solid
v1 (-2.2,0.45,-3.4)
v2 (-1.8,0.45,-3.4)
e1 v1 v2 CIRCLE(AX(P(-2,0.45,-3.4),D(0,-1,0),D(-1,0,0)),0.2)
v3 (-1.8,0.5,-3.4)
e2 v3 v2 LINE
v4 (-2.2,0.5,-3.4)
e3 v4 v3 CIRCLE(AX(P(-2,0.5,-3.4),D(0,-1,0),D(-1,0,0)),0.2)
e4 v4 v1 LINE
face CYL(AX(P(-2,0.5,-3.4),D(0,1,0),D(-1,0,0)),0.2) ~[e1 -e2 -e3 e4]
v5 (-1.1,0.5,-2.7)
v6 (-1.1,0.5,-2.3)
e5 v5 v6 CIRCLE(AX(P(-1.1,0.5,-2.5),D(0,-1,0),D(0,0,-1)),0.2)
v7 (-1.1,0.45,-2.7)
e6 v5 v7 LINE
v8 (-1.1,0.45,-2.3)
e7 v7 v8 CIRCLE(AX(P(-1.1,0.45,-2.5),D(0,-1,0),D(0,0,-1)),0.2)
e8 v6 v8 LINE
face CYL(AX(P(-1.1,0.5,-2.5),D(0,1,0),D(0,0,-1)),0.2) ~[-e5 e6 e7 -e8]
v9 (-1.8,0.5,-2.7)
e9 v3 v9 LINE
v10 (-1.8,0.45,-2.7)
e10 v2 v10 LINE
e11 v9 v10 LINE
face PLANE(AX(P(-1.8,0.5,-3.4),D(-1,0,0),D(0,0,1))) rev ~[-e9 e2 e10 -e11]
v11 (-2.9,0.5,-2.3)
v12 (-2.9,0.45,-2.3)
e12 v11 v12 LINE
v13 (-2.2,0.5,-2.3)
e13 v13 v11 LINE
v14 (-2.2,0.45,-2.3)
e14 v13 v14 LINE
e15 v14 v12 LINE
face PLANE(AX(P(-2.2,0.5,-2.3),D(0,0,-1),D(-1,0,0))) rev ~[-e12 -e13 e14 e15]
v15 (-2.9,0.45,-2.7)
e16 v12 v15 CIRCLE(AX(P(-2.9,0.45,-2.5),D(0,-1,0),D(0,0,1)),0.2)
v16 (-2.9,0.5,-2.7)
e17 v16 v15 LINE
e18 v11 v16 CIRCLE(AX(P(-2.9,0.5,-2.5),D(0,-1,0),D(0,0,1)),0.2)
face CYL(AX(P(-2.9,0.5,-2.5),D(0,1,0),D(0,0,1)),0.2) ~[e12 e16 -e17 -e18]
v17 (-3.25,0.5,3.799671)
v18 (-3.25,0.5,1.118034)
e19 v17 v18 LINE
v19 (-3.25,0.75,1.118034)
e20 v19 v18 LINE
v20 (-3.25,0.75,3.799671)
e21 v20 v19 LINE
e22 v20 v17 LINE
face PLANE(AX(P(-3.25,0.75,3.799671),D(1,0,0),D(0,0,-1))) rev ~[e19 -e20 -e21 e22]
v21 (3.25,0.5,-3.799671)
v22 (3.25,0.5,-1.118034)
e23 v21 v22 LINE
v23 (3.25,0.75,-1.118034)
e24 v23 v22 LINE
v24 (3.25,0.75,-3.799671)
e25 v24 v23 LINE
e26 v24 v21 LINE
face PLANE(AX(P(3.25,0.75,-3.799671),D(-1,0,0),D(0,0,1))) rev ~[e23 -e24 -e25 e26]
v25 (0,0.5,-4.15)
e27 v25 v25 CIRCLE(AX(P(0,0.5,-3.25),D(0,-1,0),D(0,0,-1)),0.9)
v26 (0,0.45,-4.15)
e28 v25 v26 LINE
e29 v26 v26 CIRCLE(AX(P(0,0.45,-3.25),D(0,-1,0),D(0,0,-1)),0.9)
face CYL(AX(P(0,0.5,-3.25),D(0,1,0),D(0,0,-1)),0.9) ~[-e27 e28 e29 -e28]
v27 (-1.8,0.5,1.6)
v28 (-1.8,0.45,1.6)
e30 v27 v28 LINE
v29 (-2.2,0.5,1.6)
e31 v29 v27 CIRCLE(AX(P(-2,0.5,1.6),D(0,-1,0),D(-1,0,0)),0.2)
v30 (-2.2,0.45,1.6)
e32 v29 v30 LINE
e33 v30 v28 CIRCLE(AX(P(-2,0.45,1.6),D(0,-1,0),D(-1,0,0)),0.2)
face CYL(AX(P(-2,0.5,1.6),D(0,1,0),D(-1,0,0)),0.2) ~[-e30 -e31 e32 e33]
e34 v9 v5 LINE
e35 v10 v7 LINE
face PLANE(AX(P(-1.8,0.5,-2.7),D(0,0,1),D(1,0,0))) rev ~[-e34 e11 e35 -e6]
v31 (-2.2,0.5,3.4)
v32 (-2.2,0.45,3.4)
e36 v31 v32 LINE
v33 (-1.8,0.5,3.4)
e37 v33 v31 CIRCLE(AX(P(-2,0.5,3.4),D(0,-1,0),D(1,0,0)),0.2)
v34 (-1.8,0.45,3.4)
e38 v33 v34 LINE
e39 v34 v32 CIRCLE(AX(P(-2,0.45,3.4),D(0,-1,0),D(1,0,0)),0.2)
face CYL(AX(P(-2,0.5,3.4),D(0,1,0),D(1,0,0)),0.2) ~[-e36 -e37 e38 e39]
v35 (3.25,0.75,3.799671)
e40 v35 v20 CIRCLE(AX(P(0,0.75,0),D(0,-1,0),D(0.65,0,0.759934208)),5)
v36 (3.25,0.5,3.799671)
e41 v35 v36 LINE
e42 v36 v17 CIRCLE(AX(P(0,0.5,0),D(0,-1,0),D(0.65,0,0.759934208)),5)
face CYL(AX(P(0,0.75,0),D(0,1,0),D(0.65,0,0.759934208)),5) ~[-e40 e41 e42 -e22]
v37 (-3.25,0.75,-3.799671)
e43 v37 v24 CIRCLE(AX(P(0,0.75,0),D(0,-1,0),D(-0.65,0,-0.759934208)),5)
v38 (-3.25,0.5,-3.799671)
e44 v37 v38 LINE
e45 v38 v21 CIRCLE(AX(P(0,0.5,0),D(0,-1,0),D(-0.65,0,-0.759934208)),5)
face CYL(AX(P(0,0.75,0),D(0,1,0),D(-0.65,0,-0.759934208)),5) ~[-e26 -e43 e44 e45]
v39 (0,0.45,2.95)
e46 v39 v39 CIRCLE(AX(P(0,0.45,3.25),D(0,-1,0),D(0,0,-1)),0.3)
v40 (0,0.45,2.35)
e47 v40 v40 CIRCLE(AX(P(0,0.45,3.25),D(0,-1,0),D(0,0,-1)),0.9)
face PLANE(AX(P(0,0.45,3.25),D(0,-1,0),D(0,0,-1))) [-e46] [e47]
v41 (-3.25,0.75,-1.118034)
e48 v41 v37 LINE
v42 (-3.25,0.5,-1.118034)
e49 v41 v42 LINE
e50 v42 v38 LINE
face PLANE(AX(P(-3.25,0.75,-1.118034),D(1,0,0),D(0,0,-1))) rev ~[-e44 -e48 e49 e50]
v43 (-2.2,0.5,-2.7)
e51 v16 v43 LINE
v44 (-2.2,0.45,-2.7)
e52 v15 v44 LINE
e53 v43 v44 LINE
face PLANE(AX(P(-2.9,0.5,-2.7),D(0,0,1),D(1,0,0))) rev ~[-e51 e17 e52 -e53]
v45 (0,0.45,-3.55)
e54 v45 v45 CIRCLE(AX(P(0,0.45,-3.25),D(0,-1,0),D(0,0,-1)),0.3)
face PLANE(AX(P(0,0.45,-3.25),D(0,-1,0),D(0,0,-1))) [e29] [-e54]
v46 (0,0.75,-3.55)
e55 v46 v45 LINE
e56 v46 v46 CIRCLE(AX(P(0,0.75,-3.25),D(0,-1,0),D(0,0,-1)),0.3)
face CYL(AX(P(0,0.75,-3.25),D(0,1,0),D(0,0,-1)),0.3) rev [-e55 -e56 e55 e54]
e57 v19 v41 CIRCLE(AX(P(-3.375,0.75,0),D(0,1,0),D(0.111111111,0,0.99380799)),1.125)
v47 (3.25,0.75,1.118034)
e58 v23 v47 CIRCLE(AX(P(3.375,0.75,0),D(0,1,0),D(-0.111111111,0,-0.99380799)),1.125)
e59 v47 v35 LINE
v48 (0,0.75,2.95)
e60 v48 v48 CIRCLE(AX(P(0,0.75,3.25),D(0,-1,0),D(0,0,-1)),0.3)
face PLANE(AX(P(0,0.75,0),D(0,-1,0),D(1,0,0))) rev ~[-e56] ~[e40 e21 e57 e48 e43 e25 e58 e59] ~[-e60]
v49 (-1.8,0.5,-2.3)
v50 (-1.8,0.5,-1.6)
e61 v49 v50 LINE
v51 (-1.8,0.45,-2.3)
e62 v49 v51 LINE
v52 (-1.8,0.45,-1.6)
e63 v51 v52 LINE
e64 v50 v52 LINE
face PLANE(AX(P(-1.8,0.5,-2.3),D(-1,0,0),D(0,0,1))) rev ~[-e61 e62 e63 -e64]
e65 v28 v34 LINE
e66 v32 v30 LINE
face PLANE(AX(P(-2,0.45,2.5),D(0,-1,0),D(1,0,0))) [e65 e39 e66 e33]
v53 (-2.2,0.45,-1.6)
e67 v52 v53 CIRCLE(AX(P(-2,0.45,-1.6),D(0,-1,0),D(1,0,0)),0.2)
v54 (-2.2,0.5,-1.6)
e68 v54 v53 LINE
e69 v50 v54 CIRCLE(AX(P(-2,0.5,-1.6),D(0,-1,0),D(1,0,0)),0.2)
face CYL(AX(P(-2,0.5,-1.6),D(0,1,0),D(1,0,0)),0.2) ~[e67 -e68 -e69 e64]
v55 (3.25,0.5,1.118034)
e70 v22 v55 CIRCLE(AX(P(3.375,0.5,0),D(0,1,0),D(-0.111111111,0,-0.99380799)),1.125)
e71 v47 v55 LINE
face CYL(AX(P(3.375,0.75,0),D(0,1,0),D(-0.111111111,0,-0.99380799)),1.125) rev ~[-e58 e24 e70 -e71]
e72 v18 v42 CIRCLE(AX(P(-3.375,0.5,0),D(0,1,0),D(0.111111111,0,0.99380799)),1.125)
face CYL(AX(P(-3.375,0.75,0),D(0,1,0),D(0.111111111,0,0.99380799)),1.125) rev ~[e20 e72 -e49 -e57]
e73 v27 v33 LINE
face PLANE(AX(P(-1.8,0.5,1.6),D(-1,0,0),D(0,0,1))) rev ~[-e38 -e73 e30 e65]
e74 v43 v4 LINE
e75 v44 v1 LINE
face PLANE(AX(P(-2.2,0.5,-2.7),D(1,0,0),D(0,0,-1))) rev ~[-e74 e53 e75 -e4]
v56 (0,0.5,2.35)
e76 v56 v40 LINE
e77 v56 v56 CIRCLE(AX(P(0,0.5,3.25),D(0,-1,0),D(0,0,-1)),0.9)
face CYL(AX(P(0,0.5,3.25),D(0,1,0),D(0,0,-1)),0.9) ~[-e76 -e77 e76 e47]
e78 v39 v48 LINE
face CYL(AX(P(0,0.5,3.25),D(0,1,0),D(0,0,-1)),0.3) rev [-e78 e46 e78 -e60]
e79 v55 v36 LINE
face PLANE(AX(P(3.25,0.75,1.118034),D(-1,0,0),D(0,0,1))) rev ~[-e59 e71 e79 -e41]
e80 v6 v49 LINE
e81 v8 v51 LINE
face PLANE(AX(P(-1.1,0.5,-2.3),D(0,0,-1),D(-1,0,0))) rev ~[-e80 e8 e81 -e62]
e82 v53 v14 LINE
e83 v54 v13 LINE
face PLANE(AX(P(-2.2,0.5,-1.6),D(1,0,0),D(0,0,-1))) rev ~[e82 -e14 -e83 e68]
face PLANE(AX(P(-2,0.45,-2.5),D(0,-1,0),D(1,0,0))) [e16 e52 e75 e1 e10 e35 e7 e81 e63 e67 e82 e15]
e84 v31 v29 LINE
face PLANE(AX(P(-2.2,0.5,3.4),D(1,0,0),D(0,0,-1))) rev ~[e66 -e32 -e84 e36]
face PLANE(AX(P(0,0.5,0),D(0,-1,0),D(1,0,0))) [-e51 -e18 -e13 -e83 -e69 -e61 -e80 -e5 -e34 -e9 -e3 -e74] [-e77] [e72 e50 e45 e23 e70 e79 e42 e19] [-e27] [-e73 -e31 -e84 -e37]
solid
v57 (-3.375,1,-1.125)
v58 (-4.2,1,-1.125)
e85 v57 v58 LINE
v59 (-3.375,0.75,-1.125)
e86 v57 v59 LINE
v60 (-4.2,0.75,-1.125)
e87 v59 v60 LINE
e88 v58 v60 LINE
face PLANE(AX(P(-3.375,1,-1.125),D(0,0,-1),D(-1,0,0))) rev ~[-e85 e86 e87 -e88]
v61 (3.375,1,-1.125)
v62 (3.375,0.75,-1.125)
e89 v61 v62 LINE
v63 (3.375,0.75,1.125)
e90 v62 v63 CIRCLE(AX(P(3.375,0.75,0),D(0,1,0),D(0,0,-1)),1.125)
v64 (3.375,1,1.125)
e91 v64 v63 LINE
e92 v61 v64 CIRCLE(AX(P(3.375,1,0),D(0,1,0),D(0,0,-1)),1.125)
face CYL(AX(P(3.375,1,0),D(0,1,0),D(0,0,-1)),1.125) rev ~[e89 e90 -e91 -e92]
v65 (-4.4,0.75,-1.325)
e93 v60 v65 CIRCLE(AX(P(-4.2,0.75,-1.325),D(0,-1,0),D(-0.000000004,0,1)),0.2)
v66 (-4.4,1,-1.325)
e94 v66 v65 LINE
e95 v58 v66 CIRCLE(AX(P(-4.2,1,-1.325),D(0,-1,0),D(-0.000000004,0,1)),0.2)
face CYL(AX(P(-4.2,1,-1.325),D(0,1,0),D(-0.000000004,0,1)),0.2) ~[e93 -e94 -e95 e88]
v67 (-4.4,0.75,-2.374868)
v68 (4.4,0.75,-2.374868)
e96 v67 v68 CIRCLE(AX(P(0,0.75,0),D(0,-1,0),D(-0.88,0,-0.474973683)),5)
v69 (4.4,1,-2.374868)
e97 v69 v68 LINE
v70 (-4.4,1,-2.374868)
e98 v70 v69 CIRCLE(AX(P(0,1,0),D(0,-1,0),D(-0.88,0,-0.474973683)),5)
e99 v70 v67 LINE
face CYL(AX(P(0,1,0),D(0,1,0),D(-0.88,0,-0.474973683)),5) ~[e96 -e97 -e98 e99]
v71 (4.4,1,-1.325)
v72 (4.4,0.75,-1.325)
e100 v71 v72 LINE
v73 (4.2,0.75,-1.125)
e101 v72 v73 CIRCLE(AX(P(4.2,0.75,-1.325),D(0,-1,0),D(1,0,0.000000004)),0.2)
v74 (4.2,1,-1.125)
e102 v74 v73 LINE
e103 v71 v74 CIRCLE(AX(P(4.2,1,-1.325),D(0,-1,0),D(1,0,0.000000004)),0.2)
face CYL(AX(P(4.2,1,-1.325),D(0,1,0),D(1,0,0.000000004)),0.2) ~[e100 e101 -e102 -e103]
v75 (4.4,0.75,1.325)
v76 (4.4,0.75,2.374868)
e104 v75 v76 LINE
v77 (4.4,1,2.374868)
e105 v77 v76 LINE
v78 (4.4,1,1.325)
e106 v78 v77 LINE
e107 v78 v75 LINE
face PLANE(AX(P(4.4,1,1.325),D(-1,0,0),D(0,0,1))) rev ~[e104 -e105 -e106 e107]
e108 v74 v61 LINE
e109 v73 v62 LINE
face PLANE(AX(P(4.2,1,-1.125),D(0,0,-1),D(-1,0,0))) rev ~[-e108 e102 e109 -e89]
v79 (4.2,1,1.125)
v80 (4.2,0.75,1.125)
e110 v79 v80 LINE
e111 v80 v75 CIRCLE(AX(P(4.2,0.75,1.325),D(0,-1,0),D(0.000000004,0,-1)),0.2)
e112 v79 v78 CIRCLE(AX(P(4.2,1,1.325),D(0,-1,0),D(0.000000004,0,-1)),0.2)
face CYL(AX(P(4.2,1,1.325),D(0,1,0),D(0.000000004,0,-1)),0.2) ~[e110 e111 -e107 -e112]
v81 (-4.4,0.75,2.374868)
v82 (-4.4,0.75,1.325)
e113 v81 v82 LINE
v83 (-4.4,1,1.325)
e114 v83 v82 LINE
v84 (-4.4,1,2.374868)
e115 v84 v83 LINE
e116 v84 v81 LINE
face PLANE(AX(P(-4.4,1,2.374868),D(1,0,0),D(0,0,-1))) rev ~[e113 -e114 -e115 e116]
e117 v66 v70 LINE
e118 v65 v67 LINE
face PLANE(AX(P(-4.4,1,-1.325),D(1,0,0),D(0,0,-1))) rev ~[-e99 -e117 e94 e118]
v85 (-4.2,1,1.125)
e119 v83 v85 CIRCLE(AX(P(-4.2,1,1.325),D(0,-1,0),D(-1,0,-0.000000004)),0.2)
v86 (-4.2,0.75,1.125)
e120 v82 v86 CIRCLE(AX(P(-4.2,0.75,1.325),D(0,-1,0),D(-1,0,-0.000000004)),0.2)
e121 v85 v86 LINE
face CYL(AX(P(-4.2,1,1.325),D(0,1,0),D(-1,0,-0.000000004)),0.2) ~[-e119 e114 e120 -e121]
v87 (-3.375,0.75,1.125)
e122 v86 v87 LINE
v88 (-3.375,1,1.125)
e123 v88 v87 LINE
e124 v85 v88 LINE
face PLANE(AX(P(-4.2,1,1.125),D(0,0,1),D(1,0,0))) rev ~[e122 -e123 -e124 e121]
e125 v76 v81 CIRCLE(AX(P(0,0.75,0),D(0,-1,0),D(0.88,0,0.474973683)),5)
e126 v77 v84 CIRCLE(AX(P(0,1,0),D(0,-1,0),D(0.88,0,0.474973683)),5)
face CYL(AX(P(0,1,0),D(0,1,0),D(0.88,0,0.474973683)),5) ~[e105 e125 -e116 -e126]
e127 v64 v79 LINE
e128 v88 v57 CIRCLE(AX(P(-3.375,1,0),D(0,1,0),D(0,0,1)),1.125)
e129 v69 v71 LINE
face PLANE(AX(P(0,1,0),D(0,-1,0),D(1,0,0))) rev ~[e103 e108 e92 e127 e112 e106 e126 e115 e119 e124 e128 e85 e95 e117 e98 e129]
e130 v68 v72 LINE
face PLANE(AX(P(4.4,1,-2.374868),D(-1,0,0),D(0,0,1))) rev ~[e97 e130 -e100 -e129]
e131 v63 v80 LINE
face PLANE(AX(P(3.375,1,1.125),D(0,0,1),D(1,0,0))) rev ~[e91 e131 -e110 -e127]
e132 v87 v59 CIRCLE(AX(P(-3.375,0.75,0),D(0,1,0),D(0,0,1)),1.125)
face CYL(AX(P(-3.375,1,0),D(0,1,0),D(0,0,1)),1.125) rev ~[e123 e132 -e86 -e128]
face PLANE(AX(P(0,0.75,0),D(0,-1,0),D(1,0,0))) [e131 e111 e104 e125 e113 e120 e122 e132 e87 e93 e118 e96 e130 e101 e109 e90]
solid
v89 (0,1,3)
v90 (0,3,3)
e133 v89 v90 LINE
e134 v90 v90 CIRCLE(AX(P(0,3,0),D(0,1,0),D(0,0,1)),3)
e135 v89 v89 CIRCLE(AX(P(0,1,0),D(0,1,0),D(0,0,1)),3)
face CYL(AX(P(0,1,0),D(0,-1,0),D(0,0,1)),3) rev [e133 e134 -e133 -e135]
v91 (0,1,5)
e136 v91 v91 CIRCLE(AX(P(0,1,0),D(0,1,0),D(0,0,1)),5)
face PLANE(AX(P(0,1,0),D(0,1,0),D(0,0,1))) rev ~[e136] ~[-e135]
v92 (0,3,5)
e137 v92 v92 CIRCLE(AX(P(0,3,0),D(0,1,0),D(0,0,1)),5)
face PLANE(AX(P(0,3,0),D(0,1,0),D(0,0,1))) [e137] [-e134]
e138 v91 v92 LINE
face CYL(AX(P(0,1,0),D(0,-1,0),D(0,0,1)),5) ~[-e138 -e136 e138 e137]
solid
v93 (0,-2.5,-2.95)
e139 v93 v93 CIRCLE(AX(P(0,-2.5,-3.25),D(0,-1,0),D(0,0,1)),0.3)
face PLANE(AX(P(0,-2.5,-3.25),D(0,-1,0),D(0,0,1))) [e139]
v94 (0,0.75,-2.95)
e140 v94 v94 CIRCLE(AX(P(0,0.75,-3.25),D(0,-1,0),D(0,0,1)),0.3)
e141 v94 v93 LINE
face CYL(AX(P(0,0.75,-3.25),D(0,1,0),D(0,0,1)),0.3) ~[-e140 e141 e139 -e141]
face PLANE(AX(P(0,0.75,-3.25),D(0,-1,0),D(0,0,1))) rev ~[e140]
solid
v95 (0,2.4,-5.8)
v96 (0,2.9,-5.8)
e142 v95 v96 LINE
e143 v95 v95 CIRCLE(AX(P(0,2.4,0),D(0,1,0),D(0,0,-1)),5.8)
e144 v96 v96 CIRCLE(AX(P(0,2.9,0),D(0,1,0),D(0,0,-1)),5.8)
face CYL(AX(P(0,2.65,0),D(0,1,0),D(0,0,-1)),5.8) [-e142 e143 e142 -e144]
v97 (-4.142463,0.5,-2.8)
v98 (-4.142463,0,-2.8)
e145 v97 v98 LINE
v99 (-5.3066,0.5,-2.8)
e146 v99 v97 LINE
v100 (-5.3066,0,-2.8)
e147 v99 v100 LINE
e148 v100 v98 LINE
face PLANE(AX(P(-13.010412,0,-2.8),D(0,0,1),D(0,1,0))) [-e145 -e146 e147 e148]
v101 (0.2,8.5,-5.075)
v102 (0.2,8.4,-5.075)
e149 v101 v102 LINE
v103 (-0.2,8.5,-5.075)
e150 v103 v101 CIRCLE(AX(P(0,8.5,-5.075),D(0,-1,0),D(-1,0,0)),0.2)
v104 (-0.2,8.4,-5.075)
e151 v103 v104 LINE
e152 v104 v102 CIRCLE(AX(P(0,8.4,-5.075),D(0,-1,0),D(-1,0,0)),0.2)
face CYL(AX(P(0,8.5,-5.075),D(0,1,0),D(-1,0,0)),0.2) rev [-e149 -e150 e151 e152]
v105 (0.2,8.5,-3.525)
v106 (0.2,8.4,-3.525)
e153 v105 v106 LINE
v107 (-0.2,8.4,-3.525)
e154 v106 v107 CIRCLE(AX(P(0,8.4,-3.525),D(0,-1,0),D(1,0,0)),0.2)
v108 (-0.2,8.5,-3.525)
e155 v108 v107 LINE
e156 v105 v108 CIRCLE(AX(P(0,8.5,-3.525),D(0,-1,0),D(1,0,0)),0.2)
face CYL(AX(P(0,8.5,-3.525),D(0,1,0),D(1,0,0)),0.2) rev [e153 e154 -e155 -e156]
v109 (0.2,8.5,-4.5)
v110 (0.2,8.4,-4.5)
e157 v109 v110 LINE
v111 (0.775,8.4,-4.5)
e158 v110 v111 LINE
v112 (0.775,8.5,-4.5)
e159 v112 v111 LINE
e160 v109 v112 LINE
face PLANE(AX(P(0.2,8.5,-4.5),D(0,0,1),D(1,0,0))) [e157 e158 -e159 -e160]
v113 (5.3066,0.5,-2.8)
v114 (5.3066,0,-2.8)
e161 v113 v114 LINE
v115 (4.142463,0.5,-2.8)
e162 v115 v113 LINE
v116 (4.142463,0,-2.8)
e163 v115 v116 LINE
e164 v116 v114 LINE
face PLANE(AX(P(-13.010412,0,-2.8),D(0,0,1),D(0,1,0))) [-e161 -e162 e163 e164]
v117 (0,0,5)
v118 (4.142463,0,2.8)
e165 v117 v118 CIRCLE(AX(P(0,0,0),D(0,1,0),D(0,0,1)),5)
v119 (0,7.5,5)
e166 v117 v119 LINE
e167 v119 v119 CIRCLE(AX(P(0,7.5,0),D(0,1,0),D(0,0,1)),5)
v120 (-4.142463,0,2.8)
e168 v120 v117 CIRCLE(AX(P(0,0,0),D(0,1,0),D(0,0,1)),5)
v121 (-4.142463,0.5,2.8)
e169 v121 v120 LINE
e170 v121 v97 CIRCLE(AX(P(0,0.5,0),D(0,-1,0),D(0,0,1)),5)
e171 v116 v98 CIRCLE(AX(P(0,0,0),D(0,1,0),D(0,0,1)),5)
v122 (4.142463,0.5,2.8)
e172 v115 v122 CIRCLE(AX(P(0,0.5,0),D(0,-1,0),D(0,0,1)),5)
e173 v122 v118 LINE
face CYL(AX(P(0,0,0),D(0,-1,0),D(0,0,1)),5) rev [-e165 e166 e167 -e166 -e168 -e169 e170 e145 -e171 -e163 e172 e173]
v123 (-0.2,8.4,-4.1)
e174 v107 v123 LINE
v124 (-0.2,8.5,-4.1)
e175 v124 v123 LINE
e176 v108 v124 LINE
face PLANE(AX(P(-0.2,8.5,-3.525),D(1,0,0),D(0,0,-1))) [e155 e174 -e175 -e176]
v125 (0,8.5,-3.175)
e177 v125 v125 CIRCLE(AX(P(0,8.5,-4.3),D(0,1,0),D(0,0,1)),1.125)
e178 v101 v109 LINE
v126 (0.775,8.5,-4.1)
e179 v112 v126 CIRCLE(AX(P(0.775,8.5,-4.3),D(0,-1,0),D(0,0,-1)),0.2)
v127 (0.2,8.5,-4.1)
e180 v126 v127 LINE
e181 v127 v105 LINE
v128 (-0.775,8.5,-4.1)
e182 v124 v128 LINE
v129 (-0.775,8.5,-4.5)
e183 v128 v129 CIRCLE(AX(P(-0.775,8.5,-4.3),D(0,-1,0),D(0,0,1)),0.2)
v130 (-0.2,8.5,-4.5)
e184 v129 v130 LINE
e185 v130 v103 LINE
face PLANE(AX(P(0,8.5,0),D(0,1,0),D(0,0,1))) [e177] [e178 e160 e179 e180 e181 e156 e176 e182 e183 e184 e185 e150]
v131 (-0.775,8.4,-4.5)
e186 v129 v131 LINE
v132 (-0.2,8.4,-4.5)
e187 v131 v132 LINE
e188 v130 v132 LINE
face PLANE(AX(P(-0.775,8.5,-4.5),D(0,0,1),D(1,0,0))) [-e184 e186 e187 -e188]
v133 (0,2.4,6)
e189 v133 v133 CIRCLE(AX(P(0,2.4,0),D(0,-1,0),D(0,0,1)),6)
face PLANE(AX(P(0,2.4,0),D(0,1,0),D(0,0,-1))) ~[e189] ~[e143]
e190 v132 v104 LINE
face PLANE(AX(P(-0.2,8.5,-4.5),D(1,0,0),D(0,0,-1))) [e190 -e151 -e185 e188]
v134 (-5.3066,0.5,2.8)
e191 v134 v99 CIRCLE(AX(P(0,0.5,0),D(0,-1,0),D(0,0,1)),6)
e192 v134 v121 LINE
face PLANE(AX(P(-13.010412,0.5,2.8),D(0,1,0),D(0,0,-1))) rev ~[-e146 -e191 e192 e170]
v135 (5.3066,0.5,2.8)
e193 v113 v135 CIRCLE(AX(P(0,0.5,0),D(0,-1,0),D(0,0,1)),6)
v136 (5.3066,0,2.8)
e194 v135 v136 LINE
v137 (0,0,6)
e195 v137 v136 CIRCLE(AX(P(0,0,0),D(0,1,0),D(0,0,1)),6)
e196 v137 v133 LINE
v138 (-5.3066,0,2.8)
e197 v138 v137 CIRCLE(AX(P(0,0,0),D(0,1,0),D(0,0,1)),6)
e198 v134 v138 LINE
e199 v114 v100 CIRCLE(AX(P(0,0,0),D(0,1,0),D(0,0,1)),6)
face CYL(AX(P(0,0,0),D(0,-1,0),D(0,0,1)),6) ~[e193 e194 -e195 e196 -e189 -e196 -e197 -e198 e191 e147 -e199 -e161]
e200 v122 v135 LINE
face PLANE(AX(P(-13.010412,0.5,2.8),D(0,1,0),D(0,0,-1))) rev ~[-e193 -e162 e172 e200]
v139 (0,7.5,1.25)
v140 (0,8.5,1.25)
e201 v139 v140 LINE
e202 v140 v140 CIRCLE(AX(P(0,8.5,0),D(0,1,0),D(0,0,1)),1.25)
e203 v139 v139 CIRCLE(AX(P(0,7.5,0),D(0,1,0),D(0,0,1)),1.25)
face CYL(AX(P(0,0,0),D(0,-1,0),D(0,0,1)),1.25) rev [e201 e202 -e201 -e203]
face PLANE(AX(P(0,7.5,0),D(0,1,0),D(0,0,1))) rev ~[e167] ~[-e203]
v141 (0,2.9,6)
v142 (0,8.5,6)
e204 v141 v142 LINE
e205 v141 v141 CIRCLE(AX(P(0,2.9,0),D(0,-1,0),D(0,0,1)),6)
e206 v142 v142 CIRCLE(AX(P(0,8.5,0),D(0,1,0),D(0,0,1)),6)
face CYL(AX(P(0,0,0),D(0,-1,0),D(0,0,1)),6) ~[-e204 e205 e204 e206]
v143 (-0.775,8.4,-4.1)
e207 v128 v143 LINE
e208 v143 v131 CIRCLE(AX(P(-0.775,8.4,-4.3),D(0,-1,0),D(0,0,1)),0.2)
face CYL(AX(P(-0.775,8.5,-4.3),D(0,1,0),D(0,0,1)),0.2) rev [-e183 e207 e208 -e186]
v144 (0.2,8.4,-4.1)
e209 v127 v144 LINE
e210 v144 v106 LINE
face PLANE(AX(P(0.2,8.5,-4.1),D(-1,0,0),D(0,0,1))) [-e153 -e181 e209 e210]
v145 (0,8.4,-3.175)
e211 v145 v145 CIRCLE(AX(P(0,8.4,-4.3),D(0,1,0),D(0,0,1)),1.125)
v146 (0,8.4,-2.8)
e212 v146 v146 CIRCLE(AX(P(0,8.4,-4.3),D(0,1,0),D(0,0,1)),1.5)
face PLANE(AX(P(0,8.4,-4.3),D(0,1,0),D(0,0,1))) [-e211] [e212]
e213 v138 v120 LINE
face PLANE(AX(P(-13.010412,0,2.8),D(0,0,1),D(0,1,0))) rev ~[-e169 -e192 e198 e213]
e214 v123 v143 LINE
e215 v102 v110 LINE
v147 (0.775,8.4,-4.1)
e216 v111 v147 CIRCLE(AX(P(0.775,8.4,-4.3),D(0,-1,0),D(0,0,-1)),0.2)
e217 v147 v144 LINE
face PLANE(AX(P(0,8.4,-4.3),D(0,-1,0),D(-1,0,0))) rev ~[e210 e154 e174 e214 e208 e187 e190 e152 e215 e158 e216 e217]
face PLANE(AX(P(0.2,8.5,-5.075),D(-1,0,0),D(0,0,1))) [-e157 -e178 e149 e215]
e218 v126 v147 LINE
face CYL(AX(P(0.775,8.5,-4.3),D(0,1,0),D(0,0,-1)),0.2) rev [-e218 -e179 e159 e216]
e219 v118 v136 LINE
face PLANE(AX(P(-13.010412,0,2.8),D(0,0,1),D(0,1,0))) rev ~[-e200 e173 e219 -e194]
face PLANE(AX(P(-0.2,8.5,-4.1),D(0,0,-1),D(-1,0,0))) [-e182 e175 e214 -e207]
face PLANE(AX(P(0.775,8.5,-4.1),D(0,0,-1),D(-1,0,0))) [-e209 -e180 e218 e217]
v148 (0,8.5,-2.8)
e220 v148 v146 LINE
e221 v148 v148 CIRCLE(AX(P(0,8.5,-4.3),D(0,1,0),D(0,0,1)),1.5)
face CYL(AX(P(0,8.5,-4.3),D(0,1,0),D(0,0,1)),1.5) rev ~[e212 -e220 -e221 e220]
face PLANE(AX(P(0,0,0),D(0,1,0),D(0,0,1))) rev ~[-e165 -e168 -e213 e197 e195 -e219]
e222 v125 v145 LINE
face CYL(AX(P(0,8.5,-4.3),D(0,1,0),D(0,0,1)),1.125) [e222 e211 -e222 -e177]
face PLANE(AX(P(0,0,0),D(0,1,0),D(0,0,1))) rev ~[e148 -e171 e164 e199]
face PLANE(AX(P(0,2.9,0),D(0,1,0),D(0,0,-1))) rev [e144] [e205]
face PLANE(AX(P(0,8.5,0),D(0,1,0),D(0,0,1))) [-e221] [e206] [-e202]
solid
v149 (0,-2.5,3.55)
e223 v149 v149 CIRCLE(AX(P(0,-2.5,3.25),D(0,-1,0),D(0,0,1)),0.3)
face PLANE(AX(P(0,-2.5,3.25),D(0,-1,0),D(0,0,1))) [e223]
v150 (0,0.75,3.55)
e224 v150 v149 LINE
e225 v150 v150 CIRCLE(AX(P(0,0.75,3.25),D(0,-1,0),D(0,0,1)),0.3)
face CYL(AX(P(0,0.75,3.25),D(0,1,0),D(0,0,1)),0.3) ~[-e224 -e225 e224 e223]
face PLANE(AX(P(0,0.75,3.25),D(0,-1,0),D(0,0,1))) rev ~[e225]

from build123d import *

# Parameters (mm, degrees)
SKETCH1_R               = 6
SKETCH1_R_2             = 1.25
BOSS_EXTRUDE1_DEPTH     = 8.5
SKETCH1_3_R             = 5
SKETCH1_3_R_2           = 3
SKETCH1_3_R_3           = 1.25
CUT_EXTRUDE1_DEPTH      = 7.5
CUT_EXTRUDE2_DEPTH      = 13.010412149
CUT_EXTRUDE2_DEPTH_BACK = 13.010412149
SKETCH2_W               = 5.6
SKETCH2_H               = 0.5
BOSS_EXTRUDE2_START     = 1
SKETCH1_4_R             = 5
SKETCH1_4_R_2           = 3
BOSS_EXTRUDE2_DEPTH     = 2
BOSS_EXTRUDE3_DEPTH     = 0.25
SKETCH4_R               = 0.3
BOSS_EXTRUDE4_DEPTH     = 0.25
SKETCH5_R               = 0.9
SKETCH5_R_2             = 0.3
BOSS_EXTRUDE5_DEPTH     = 0.05
SKETCH6_W               = 1.423745764
SKETCH6_H               = 0.5
SKETCH7_R               = 0.3
BOSS_EXTRUDE7_DEPTH     = 3.25
BOSS_EXTRUDE7_2_DEPTH   = 3.25
SKETCH8_R               = 1.5
SKETCH8_R_2             = 1.125
CUT_EXTRUDE3_DEPTH      = 0.1


with BuildPart() as part:
    # Sketch1 → Boss-Extrude1 (new body)
    with BuildSketch(Plane(origin=(0, 0, 0), x_dir=(1, 0, 0), z_dir=(0, 1, 0))):
        with Locations(Location((0, 0, 0), (0, 0, 270))):
            Circle(SKETCH1_R)
        with Locations(Location((0, 0, 0), (0, 0, 270))):
            Circle(SKETCH1_R_2, mode=Mode.SUBTRACT)
    extrude(amount=BOSS_EXTRUDE1_DEPTH)

    # Sketch1<3> → Cut-Extrude1 (cut)
    # profile 1 of 2: a face of its own
    with BuildSketch(Plane(origin=(0, 0, 0), x_dir=(1, 0, 0), z_dir=(0, 1, 0))):
        with Locations(Location((0, 0, 0), (0, 0, 270))):
            Circle(SKETCH1_3_R)
    # profile 2 of 2: a face of its own
    with BuildSketch(Plane(origin=(0, 0, 0), x_dir=(1, 0, 0), z_dir=(0, 1, 0))):
        Circle(SKETCH1_3_R_2)
        with Locations(Location((0, 0, 0), (0, 0, 270))):
            Circle(SKETCH1_3_R_3, mode=Mode.SUBTRACT)
    extrude(amount=CUT_EXTRUDE1_DEPTH, mode=Mode.SUBTRACT)

    # Sketch2 → Cut-Extrude2 (cut, two sides: drawn at the far end of the back side and taken through both)
    with BuildSketch(Plane(origin=(0, 0, 0), x_dir=(0, 0, -1), z_dir=(1, 0, 0)).offset(-CUT_EXTRUDE2_DEPTH_BACK)):
        with Locations((0, 0.25)):
            Rectangle(SKETCH2_W, SKETCH2_H)
    extrude(amount=CUT_EXTRUDE2_DEPTH + CUT_EXTRUDE2_DEPTH_BACK, mode=Mode.SUBTRACT)

    # Sketch6 → Cut-Revolve1 (revolve, cut)
    with BuildSketch(Plane(origin=(0, 0, 0), x_dir=(0, 0, -1), z_dir=(1, 0, 0))):
        with Locations((6.511872882, 2.65)):
            Rectangle(SKETCH6_W, SKETCH6_H)
    revolve(axis=Axis((0, -1000, 0), (0, 1, 0)), mode=Mode.SUBTRACT)

    # Sketch8 → Cut-Extrude3 (cut)
    # profile 1 of 2: a face of its own
    with BuildSketch(Plane(origin=(0, 8.5, 0), x_dir=(1, 0, 0), z_dir=(0, 1, 0))):
        with Locations(Location((0, 4.3, 0), (0, 0, 270))):
            Circle(SKETCH8_R)
        with Locations(Location((0, 4.3, 0), (0, 0, 270))):
            Circle(SKETCH8_R_2, mode=Mode.SUBTRACT)
    # profile 2 of 2: a face of its own
    with BuildSketch(Plane(origin=(0, 8.5, 0), x_dir=(1, 0, 0), z_dir=(0, 1, 0))):
        with BuildLine():
            ThreePointArc((0.2, 3.525), (0, 3.325), (-0.2, 3.525))
            Line((-0.2, 3.525), (-0.2, 4.1))
            Line((-0.2, 4.1), (-0.775, 4.1))
            ThreePointArc((-0.775, 4.1), (-0.975, 4.3), (-0.775, 4.5))
            Line((-0.775, 4.5), (-0.2, 4.5))
            Line((-0.2, 4.5), (-0.2, 5.075))
            ThreePointArc((-0.2, 5.075), (0, 5.275), (0.2, 5.075))
            Line((0.2, 5.075), (0.2, 4.5))
            Line((0.2, 4.5), (0.775, 4.5))
            ThreePointArc((0.775, 4.5), (0.975, 4.3), (0.775, 4.1))
            Line((0.775, 4.1), (0.2, 4.1))
            Line((0.2, 4.1), (0.2, 3.525))
        make_face()
    extrude(amount=-CUT_EXTRUDE3_DEPTH, mode=Mode.SUBTRACT)


with BuildPart() as body_2:
    # Sketch1<4> → Boss-Extrude2 (new body)
    with BuildSketch(Plane(origin=(0, 0, 0), x_dir=(1, 0, 0), z_dir=(0, 1, 0)).offset(BOSS_EXTRUDE2_START)):
        with Locations(Location((0, 0, 0), (0, 0, 270))):
            Circle(SKETCH1_4_R)
        with Locations(Location((0, 0, 0), (0, 0, 270))):
            Circle(SKETCH1_4_R_2, mode=Mode.SUBTRACT)
    extrude(amount=BOSS_EXTRUDE2_DEPTH)


with BuildPart() as body_3:
    # Sketch3 → Boss-Extrude3 (new body)
    with BuildSketch(Plane.XZ.offset(-1)):
        with BuildLine():
            Line((3.375, 1.125), (4.2, 1.125))
            ThreePointArc((4.2, 1.125), (4.341421356, 1.183578644), (4.4, 1.325))
            Line((4.4, 1.325), (4.4, 2.374868417))
            ThreePointArc((4.4, 2.374868417), (0, 5), (-4.4, 2.374868417))
            Line((-4.4, 2.374868417), (-4.4, 1.325))
            ThreePointArc((-4.4, 1.325), (-4.341421356, 1.183578644), (-4.2, 1.125))
            Line((-4.2, 1.125), (-3.375, 1.125))
            ThreePointArc((-3.375, 1.125), (-2.25, 0), (-3.375, -1.125))
            Line((-3.375, -1.125), (-4.2, -1.125))
            ThreePointArc((-4.2, -1.125), (-4.341421356, -1.183578644), (-4.4, -1.325))
            Line((-4.4, -1.325), (-4.4, -2.374868417))
            ThreePointArc((-4.4, -2.374868417), (0, -5), (4.4, -2.374868417))
            Line((4.4, -2.374868417), (4.4, -1.325))
            ThreePointArc((4.4, -1.325), (4.341421356, -1.183578644), (4.2, -1.125))
            Line((4.2, -1.125), (3.375, -1.125))
            ThreePointArc((3.375, -1.125), (2.25, 0), (3.375, 1.125))
        make_face()
    extrude(amount=BOSS_EXTRUDE3_DEPTH)


with BuildPart() as body_4:
    # Sketch4 → Boss-Extrude4 (new body)
    with BuildSketch(Plane.XZ.offset(-0.75)):
        with BuildLine():
            Line((-3.25, 3.799671038), (-3.25, 1.118033989))
            ThreePointArc((-3.25, 1.118033989), (-2.25, 0), (-3.25, -1.118033989))
            Line((-3.25, -1.118033989), (-3.25, -3.799671038))
            ThreePointArc((-3.25, -3.799671038), (0, -5), (3.25, -3.799671038))
            Line((3.25, -3.799671038), (3.25, -1.118033989))
            ThreePointArc((3.25, -1.118033989), (2.25, 0), (3.25, 1.118033989))
            Line((3.25, 1.118033989), (3.25, 3.799671038))
            ThreePointArc((3.25, 3.799671038), (0, 5), (-3.25, 3.799671038))
        make_face()
        with Locations(Location((0, 3.25, 0), (0, 0, 270))):
            Circle(SKETCH4_R, mode=Mode.SUBTRACT)
        with Locations(Location((0, -3.25, 0), (0, 0, 270))):
            Circle(SKETCH4_R, mode=Mode.SUBTRACT)
    extrude(amount=BOSS_EXTRUDE4_DEPTH)

    # Sketch5 → Boss-Extrude5 (add)
    # profile 1 of 4: a face of its own
    with BuildSketch(Plane.XZ.offset(-0.5)):
        with Locations(Location((0, 3.25, 0), (0, 0, 270))):
            Circle(SKETCH5_R)
        with Locations(Location((0, 3.25, 0), (0, 0, 270))):
            Circle(SKETCH5_R_2, mode=Mode.SUBTRACT)
    # profile 2 of 4: a face of its own
    with BuildSketch(Plane.XZ.offset(-0.5)):
        with Locations(Location((0, -3.25, 0), (0, 0, 270))):
            Circle(SKETCH5_R)
        with Locations(Location((0, -3.25, 0), (0, 0, 270))):
            Circle(SKETCH5_R_2, mode=Mode.SUBTRACT)
    # profile 3 of 4: a face of its own
    with BuildSketch(Plane.XZ.offset(-0.5)):
        with BuildLine():
            Line((-2.9, -2.7), (-2.2, -2.7))
            Line((-2.2, -2.7), (-2.2, -3.4))
            ThreePointArc((-2.2, -3.4), (-2, -3.6), (-1.8, -3.4))
            Line((-1.8, -3.4), (-1.8, -2.7))
            Line((-1.8, -2.7), (-1.1, -2.7))
            ThreePointArc((-1.1, -2.7), (-0.9, -2.5), (-1.1, -2.3))
            Line((-1.1, -2.3), (-1.8, -2.3))
            Line((-1.8, -2.3), (-1.8, -1.6))
            ThreePointArc((-1.8, -1.6), (-2, -1.4), (-2.2, -1.6))
            Line((-2.2, -1.6), (-2.2, -2.3))
            Line((-2.2, -2.3), (-2.9, -2.3))
            ThreePointArc((-2.9, -2.3), (-3.1, -2.5), (-2.9, -2.7))
        make_face()
    # profile 4 of 4: a face of its own
    with BuildSketch(Plane.XZ.offset(-0.5)):
        with BuildLine():
            Line((-2.2, 3.4), (-2.2, 1.6))
            ThreePointArc((-2.2, 1.6), (-2, 1.4), (-1.8, 1.6))
            Line((-1.8, 1.6), (-1.8, 3.4))
            ThreePointArc((-1.8, 3.4), (-2, 3.6), (-2.2, 3.4))
        make_face()
    extrude(amount=BOSS_EXTRUDE5_DEPTH)


with BuildPart() as body_5:
    # Sketch7 → Boss-Extrude7 (new body)
    with BuildSketch(Plane.XZ.offset(-0.75)):
        with Locations(Location((0, 3.25, 0), (0, 0, 90))):
            Circle(SKETCH7_R)
    extrude(amount=BOSS_EXTRUDE7_DEPTH)


with BuildPart() as body_6:
    # Sketch7 → Boss-Extrude7 2 (new body)
    with BuildSketch(Plane.XZ.offset(-0.75)):
        with Locations(Location((0, -3.25, 0), (0, 0, 90))):
            Circle(SKETCH7_R)
    extrude(amount=BOSS_EXTRUDE7_2_DEPTH)


solid = Compound([part.part, body_2.part, body_3.part, body_4.part, body_5.part, body_6.part])
